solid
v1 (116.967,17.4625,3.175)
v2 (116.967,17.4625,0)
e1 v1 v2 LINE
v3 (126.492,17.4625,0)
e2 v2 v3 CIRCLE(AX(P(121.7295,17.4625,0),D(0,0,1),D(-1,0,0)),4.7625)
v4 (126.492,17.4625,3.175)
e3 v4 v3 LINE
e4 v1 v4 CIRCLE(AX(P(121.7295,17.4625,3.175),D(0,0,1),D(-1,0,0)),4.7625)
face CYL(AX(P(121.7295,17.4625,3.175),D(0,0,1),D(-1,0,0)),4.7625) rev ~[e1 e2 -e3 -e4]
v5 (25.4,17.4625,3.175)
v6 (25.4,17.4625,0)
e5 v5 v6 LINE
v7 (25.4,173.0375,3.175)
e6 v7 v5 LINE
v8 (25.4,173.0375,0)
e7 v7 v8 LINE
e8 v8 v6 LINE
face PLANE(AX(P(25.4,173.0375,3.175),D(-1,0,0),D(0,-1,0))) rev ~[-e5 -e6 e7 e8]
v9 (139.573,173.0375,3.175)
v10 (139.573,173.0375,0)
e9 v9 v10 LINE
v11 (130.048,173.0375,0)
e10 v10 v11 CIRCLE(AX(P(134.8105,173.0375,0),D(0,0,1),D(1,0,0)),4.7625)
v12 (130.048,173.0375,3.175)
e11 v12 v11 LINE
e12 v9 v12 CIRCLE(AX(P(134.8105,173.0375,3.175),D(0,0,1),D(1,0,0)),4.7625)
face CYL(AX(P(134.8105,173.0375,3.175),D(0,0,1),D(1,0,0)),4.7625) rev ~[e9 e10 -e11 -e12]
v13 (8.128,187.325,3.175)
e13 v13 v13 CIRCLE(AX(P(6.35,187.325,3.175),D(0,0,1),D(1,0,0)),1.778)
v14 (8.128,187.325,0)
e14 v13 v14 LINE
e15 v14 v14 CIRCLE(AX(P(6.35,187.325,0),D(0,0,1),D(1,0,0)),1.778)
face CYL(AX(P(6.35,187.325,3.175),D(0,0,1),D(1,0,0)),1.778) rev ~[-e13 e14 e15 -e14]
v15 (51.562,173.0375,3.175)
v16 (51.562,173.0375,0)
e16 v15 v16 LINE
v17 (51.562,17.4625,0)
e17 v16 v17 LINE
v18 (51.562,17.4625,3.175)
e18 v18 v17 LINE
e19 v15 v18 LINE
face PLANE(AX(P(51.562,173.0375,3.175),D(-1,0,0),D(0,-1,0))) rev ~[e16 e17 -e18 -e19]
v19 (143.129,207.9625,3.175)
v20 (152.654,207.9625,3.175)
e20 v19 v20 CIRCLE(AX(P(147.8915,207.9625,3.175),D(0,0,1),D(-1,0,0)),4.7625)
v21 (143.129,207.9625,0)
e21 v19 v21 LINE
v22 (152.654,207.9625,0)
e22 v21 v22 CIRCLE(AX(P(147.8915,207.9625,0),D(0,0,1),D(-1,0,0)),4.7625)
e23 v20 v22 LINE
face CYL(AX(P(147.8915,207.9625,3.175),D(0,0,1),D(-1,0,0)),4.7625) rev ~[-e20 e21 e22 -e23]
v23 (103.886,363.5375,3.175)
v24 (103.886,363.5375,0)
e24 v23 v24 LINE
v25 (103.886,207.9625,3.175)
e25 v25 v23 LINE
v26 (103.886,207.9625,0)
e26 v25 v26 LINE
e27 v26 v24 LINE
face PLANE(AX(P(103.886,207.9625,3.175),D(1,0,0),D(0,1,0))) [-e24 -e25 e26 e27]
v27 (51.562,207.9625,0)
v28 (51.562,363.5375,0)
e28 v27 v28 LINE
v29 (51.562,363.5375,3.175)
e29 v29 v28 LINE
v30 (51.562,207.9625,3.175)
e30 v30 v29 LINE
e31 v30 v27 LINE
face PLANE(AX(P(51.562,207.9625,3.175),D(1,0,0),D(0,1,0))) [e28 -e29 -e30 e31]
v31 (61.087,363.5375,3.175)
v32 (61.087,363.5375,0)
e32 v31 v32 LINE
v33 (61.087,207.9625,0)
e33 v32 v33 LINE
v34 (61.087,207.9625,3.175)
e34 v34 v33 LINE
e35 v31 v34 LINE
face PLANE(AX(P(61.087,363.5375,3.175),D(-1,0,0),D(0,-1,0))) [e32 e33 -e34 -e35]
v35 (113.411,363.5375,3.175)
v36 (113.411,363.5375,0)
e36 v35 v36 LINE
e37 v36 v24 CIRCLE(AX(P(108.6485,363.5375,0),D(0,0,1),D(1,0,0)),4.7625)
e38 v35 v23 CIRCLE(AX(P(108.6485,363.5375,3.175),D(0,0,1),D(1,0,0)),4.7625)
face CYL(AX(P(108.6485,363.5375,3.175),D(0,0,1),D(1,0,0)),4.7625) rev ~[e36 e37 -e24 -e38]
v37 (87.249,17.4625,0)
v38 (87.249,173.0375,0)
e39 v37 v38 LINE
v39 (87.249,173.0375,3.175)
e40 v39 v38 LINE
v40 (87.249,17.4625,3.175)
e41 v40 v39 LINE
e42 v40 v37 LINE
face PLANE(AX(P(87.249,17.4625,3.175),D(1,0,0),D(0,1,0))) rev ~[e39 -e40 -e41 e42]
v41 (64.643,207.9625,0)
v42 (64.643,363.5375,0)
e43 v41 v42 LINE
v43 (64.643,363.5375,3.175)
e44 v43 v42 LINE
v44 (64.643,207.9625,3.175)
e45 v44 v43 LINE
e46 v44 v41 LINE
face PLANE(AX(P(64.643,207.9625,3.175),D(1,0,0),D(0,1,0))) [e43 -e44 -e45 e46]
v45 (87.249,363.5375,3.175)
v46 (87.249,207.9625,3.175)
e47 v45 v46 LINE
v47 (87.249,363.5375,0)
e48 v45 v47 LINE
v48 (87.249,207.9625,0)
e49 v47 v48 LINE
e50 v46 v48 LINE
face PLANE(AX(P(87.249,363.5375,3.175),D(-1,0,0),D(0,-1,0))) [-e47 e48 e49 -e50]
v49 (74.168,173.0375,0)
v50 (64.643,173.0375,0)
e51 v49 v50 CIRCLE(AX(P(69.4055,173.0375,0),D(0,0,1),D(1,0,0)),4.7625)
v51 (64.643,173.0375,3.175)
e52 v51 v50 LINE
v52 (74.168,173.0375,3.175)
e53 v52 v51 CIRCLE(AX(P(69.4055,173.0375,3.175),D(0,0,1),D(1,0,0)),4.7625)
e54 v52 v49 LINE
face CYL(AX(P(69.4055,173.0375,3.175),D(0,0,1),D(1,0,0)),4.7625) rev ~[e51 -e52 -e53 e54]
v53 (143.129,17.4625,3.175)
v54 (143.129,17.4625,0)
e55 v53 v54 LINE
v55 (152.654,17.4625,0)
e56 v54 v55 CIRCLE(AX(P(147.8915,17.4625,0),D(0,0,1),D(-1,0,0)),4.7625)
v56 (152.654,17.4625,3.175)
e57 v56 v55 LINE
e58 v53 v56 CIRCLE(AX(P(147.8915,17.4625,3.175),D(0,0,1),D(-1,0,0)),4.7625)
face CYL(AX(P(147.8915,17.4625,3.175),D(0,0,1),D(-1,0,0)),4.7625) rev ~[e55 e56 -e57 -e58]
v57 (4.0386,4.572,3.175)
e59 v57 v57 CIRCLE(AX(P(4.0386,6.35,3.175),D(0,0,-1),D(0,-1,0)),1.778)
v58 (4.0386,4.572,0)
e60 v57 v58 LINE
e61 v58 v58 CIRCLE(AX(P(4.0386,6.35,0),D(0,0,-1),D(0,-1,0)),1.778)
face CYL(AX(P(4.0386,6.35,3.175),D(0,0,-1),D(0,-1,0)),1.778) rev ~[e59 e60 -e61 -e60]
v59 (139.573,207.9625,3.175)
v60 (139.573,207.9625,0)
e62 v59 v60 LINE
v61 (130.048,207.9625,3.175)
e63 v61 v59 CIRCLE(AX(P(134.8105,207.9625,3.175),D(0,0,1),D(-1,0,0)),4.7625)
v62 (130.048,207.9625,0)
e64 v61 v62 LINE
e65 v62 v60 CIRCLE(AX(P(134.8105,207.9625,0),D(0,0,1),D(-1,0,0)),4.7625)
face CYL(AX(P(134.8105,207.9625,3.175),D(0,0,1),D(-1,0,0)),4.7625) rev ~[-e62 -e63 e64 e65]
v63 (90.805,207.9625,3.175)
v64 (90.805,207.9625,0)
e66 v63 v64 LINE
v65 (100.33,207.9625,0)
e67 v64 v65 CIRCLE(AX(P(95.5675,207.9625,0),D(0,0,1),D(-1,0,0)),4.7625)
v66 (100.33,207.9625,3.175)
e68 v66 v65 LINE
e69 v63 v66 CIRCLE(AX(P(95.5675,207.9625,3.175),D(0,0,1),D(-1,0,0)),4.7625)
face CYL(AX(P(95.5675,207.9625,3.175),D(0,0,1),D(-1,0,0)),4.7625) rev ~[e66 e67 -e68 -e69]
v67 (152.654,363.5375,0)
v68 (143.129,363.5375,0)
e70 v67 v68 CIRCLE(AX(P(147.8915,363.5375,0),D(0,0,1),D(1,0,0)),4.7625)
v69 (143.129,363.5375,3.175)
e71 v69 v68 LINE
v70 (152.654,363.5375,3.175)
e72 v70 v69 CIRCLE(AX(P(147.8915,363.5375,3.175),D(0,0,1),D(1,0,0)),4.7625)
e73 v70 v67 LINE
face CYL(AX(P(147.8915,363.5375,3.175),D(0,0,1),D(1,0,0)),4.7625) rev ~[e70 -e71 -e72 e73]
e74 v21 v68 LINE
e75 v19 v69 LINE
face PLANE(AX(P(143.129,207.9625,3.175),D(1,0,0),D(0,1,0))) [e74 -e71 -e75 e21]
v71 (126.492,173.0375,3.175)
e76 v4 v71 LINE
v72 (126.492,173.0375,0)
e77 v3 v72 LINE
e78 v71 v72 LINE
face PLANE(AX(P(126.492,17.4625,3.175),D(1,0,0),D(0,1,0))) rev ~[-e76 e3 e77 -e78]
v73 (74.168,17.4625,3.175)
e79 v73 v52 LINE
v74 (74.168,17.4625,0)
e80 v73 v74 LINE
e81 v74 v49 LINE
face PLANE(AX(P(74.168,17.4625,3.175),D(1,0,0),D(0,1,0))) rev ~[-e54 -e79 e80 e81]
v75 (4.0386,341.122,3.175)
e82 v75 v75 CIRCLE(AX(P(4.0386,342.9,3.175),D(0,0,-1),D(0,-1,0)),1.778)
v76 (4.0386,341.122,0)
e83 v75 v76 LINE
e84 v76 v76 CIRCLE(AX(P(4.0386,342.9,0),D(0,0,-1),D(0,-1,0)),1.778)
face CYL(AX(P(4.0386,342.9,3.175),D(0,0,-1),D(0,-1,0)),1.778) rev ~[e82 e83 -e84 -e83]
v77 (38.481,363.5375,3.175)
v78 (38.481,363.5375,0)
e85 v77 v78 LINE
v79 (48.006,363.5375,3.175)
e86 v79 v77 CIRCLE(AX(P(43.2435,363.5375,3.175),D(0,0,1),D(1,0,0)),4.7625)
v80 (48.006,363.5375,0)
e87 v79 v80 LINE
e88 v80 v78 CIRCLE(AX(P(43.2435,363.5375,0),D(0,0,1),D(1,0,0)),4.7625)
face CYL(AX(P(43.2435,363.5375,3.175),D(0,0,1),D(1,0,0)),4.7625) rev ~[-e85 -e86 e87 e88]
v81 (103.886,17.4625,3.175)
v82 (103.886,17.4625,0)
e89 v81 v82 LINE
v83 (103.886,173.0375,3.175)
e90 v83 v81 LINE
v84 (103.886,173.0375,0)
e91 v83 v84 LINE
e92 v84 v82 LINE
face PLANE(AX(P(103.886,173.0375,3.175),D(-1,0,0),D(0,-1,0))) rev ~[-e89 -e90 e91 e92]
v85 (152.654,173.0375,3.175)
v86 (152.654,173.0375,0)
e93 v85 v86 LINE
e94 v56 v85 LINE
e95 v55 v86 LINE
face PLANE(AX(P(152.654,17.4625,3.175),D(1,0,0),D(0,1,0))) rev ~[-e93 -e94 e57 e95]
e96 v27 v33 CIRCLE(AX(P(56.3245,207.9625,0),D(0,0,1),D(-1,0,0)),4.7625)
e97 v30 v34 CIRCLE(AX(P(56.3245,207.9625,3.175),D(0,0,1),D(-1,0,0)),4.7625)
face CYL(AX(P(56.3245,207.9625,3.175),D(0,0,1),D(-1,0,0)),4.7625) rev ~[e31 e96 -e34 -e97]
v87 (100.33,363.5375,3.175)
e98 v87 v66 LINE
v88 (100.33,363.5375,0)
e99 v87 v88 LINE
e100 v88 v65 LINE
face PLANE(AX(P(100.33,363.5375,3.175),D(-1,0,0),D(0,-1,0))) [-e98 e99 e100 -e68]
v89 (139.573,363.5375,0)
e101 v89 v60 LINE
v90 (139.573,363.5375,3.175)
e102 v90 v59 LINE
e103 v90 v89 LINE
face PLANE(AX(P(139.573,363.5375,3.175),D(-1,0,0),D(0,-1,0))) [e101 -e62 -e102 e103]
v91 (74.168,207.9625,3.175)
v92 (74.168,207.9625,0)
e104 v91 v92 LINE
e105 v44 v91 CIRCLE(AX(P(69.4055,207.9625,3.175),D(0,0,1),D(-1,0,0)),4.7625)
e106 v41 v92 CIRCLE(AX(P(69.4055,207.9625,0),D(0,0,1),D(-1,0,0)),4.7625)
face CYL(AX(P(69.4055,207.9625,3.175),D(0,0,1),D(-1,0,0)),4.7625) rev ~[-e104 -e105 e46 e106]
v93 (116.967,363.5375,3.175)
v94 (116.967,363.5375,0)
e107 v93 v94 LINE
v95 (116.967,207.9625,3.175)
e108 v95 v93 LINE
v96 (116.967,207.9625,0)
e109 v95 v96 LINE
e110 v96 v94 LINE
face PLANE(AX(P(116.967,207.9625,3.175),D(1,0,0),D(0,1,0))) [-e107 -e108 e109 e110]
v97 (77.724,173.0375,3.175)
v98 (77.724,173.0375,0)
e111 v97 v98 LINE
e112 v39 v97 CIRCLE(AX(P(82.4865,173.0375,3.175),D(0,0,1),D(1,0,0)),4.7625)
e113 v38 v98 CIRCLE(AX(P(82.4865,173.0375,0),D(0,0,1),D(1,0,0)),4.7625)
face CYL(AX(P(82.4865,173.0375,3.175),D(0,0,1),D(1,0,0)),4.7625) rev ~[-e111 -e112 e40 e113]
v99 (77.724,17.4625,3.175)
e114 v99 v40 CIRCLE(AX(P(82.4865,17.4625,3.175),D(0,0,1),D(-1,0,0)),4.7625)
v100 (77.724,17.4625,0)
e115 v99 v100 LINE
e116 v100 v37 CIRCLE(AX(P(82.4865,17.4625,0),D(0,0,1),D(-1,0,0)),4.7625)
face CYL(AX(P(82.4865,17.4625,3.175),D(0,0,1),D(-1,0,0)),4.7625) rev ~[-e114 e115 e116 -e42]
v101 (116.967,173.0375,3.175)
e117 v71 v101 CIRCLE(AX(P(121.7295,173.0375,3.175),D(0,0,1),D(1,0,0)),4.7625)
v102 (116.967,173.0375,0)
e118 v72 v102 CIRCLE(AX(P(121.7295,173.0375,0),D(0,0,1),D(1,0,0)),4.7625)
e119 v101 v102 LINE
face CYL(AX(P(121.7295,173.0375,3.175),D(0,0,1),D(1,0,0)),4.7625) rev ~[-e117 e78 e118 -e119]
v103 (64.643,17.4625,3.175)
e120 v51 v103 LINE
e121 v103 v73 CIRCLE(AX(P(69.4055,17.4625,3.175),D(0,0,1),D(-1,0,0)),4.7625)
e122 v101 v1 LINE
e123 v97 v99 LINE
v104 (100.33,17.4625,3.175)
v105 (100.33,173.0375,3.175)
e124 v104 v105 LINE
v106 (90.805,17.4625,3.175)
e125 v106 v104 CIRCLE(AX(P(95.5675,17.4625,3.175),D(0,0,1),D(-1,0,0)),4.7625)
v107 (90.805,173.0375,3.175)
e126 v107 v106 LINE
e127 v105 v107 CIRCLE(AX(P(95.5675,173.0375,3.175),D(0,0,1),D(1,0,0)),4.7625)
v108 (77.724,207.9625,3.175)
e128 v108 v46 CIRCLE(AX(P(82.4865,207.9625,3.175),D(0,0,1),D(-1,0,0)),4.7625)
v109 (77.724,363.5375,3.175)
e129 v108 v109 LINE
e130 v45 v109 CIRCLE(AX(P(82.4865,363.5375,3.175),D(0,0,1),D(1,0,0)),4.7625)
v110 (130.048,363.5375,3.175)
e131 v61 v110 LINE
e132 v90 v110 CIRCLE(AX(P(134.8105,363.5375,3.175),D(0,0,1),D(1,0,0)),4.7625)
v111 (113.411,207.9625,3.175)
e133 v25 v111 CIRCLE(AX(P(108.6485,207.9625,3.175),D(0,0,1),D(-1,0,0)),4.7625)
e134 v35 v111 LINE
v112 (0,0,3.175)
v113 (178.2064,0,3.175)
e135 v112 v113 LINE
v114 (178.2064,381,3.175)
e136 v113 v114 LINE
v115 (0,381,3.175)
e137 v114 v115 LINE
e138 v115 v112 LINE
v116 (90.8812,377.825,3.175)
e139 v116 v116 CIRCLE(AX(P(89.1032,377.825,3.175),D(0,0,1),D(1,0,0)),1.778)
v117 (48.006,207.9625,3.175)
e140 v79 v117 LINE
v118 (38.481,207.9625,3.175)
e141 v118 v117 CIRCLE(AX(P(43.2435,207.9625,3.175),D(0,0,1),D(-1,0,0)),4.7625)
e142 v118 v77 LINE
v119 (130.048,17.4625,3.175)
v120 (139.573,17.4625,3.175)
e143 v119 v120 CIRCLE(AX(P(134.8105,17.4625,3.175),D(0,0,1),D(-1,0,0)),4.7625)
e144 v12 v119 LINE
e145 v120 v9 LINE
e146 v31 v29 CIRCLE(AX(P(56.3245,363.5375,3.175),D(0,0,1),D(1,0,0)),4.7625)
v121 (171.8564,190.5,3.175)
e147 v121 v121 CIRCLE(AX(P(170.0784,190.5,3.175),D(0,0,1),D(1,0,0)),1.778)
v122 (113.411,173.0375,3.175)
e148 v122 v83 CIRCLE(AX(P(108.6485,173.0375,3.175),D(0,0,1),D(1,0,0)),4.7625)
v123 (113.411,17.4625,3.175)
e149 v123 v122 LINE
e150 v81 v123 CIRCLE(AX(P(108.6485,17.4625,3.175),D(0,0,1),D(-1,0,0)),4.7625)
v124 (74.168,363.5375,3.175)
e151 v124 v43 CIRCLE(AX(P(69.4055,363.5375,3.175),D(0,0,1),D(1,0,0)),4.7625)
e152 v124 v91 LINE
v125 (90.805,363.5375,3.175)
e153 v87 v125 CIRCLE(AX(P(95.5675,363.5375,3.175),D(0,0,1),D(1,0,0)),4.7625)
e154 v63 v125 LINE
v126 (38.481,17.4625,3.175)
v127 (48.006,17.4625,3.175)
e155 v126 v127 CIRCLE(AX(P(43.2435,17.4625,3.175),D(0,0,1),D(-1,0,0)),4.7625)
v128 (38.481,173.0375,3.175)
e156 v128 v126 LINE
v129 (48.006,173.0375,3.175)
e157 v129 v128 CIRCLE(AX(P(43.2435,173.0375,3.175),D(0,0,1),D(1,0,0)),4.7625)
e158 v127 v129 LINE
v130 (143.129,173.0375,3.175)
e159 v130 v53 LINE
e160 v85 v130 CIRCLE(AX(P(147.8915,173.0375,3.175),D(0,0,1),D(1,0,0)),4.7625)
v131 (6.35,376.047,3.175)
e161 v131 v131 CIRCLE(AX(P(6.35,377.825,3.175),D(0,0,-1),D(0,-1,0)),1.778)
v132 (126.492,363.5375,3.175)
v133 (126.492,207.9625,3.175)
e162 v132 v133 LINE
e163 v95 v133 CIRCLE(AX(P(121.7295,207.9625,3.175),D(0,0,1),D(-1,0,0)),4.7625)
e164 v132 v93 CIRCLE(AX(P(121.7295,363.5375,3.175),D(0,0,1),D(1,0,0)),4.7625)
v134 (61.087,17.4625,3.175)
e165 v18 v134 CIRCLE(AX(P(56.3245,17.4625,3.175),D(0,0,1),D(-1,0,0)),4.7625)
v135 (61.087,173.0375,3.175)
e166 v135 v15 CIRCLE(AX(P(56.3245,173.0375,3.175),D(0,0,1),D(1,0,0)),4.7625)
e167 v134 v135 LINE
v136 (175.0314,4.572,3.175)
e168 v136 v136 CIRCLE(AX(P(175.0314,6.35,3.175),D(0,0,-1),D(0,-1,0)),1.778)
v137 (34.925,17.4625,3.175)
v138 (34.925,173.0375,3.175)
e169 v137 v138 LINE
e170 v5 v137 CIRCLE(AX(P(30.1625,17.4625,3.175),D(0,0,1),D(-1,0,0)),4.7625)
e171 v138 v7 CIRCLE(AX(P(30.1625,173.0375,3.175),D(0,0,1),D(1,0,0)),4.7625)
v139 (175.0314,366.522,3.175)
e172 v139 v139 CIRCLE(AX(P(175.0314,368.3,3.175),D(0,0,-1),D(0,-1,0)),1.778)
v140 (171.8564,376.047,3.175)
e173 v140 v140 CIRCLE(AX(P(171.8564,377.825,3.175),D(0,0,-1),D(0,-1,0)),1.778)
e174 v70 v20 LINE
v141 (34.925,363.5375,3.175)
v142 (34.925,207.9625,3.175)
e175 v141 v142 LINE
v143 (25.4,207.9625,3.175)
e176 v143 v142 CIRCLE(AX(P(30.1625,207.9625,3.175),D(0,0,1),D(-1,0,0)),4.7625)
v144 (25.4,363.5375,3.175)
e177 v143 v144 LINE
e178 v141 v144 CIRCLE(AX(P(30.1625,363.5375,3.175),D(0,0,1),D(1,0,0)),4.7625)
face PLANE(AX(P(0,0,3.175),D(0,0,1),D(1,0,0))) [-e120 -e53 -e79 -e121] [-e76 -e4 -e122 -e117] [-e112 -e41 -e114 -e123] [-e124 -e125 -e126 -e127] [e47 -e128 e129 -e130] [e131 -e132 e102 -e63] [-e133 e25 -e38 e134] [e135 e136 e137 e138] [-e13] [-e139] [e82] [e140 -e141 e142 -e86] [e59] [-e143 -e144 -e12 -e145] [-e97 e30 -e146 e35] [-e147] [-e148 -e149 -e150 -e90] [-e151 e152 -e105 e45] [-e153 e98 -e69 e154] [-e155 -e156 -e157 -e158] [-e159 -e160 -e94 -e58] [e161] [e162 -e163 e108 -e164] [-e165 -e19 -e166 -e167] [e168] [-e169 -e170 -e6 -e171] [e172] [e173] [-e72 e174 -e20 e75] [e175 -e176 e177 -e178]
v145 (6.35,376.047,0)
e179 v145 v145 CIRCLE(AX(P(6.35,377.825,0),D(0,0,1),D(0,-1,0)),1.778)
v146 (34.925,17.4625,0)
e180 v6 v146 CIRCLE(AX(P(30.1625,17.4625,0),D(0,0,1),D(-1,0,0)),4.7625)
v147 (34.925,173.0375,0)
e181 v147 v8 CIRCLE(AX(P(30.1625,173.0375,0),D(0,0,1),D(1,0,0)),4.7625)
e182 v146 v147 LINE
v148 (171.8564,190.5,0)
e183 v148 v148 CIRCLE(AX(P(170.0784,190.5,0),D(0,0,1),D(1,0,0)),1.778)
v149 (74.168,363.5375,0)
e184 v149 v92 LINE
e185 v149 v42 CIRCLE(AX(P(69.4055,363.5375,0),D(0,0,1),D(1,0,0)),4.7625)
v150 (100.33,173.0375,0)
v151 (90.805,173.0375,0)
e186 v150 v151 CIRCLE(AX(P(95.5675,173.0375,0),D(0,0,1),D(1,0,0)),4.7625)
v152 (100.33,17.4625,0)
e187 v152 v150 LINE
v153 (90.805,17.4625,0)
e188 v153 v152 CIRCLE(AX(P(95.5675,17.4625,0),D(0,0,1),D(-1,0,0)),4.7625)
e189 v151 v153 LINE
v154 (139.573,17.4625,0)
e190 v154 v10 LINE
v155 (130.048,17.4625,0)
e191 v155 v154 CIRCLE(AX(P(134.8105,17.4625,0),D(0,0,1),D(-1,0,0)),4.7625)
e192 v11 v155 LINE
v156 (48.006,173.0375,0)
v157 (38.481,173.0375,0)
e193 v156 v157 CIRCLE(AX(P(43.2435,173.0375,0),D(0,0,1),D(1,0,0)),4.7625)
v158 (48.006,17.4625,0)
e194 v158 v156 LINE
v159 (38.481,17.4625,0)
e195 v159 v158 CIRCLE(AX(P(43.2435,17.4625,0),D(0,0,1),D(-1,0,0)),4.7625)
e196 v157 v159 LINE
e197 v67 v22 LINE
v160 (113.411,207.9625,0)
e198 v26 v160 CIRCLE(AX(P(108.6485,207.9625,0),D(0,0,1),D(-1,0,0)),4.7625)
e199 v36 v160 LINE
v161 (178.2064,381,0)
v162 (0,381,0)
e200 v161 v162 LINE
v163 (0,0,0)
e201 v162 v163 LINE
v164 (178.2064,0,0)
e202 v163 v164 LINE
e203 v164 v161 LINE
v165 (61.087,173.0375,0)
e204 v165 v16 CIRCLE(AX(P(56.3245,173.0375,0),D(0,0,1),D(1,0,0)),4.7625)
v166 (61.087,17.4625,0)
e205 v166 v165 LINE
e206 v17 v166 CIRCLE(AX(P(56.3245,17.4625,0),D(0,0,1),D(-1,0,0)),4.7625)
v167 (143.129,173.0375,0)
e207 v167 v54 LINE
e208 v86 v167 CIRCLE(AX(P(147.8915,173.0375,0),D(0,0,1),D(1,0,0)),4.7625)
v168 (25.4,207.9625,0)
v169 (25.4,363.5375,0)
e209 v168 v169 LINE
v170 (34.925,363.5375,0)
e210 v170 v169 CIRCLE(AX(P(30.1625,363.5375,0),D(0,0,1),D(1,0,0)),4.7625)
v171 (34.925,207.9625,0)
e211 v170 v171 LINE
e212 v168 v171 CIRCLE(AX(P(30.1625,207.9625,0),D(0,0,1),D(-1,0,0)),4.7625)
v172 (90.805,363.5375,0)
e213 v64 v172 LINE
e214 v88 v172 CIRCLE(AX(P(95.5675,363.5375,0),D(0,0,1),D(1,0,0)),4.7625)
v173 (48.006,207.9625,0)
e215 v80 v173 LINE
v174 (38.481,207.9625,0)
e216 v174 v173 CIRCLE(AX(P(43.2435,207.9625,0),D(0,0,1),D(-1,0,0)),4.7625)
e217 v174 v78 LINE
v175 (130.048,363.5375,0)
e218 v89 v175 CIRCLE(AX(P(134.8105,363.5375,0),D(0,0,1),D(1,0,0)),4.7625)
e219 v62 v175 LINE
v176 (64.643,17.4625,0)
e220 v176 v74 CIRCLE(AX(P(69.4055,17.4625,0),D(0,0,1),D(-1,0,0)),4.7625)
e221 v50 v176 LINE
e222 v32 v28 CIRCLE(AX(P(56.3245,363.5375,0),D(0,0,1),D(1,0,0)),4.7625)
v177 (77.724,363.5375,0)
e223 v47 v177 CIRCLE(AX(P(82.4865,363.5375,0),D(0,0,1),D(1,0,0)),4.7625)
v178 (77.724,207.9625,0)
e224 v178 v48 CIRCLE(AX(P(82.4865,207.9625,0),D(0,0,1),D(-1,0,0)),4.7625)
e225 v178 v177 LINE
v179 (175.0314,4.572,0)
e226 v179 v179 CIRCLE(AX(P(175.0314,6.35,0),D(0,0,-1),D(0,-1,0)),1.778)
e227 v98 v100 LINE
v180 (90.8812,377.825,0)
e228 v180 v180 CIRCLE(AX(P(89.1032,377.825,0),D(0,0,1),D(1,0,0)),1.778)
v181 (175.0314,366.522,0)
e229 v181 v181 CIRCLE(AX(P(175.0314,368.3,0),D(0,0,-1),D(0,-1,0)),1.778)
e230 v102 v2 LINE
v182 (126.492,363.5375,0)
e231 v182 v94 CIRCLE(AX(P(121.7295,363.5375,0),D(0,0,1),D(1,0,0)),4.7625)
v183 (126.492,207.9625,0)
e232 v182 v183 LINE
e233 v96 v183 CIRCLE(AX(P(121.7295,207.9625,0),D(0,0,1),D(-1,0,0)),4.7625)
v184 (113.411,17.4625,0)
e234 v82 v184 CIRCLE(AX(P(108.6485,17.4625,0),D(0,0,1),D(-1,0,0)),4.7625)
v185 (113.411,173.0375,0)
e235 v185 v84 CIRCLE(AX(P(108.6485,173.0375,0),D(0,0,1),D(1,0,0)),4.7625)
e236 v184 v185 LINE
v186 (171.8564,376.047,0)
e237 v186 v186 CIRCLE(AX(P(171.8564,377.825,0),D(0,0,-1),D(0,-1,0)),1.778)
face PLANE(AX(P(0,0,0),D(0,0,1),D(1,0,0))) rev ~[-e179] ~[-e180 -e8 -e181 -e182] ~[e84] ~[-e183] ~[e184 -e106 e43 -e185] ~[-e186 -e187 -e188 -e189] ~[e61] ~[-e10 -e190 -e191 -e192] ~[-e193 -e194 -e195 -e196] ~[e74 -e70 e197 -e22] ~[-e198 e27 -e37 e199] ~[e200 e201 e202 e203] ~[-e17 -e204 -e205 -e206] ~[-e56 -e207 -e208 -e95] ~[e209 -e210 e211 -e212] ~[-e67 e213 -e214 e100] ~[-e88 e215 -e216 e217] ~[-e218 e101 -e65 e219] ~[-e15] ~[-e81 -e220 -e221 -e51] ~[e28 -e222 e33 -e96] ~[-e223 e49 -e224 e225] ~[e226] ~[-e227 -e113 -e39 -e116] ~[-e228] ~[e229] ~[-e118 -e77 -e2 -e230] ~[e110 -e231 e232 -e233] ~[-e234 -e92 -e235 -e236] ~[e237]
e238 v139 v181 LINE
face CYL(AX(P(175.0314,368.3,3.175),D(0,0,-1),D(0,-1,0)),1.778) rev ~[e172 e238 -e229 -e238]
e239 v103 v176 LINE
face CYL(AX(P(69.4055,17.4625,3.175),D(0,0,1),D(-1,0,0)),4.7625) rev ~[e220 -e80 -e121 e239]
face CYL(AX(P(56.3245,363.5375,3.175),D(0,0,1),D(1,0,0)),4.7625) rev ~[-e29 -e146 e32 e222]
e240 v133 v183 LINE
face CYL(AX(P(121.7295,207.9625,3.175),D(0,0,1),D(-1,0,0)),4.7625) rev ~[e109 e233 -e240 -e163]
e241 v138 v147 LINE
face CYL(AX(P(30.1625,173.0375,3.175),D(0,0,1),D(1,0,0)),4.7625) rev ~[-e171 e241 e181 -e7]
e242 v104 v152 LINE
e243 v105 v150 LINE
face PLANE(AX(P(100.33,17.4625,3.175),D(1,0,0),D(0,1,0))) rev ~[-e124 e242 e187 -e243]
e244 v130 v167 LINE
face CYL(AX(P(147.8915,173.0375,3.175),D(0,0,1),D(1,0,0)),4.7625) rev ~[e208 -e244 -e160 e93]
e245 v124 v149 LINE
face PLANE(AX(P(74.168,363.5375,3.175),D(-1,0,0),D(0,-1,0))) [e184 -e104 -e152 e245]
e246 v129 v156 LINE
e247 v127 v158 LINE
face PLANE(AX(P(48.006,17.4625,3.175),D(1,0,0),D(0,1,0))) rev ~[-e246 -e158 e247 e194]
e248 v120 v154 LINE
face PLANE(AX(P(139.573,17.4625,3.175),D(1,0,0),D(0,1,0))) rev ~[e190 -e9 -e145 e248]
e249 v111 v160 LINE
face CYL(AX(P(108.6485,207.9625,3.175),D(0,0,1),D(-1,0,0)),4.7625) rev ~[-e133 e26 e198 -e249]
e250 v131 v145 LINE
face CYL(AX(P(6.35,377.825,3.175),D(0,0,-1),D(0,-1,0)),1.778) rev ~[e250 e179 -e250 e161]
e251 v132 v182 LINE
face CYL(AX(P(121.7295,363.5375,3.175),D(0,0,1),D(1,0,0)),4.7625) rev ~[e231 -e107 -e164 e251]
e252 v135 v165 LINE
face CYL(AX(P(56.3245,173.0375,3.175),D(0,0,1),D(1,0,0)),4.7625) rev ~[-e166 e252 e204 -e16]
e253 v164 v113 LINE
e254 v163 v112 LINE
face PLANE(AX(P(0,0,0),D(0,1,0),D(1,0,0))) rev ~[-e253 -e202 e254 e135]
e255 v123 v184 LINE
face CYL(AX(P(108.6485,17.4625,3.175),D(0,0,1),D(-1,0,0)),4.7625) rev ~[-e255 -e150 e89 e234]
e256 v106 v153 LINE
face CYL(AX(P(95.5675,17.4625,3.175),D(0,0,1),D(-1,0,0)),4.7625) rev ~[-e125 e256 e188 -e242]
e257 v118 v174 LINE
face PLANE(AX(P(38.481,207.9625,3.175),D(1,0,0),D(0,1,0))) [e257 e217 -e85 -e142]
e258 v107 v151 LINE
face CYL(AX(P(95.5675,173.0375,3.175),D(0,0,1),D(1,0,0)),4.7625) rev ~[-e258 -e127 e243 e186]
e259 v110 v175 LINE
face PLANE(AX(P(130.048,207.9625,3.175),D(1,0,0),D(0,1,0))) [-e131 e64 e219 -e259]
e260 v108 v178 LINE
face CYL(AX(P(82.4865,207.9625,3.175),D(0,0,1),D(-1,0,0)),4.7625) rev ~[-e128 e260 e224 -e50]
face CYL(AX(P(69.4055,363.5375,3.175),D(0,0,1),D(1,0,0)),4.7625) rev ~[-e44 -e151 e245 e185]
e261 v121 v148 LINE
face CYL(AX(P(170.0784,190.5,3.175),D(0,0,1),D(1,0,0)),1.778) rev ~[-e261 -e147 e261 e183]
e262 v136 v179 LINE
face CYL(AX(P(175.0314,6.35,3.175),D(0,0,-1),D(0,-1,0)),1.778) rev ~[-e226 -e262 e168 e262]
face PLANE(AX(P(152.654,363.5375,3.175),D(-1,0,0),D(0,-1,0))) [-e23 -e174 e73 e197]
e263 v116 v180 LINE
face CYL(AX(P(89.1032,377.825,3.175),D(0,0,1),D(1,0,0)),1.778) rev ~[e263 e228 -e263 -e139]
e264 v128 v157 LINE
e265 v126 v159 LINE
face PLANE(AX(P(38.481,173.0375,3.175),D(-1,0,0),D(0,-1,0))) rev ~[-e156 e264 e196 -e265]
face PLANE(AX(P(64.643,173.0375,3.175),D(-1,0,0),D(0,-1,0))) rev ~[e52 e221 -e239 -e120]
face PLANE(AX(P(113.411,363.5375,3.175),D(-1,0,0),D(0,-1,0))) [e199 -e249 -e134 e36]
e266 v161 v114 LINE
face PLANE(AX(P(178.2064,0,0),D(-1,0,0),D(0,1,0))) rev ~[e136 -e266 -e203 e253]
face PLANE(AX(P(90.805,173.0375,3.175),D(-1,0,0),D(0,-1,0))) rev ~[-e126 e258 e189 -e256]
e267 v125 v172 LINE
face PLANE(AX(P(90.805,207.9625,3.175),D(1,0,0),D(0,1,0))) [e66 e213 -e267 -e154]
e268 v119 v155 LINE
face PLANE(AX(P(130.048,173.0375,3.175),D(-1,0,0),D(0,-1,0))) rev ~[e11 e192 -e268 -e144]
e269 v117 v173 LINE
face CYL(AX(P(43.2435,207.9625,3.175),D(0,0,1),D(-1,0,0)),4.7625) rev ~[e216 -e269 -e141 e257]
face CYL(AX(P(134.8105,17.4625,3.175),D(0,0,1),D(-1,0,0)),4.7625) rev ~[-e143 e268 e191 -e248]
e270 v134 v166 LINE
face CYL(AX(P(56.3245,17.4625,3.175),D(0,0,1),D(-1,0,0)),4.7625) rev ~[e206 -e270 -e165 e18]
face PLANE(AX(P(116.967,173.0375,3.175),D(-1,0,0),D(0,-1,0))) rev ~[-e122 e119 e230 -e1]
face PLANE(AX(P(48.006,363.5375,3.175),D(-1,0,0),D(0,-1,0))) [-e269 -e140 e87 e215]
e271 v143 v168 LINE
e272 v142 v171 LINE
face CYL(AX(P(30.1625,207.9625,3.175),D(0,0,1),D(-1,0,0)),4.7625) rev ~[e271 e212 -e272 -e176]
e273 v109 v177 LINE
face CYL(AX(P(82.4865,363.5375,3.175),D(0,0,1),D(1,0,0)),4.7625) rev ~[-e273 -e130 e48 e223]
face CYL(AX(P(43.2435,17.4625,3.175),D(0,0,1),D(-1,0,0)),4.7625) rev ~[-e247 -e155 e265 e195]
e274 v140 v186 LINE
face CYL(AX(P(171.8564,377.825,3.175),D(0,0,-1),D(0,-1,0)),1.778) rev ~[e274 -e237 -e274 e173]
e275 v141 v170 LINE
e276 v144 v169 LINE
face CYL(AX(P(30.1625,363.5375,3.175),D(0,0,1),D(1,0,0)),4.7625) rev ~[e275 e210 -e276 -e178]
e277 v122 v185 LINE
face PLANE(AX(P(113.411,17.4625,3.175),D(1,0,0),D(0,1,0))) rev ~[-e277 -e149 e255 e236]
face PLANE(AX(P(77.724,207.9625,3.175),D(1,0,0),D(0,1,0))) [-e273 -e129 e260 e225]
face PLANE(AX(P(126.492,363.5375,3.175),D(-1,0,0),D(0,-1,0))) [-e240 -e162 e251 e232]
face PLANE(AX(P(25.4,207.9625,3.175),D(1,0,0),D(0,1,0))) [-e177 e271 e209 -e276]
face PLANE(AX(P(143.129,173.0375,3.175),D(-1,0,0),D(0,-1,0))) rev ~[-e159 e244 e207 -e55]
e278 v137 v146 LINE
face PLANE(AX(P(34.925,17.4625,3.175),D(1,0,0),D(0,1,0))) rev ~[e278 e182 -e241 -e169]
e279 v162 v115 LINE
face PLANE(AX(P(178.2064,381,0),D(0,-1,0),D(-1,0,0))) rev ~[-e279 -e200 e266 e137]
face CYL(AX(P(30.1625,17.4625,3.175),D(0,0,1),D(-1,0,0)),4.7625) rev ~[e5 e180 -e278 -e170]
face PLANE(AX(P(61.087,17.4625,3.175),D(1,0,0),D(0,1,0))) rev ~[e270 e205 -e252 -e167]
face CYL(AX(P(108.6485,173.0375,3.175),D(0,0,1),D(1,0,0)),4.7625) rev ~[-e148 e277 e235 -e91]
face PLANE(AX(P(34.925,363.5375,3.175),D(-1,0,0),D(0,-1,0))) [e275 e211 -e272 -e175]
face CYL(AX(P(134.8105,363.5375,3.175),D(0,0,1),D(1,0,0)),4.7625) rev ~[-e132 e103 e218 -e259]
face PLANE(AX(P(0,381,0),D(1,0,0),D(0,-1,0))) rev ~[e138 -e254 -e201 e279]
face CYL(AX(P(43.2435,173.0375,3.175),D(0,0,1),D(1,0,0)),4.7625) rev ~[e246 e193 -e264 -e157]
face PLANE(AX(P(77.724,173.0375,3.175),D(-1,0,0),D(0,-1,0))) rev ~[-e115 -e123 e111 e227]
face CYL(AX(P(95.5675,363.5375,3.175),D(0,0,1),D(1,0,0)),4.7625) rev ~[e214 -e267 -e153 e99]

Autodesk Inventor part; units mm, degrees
ref_plane "YZ Plane" through (0, 0, 0) normal (1, 0, 0) x (0, 1, 0)
ref_plane "XZ Plane" through (0, 0, 0) normal (0, 1, 0) x (-1, 0, 0)
ref_plane "XY Plane" through (0, 0, 0) normal (0, 0, 1) x (1, 0, 0)
sketch "Sketch1" plane through (0, 0, 0) normal (0, 0, 1) x (1, 0, 0)
  line L0 (0, 0) -> (178.2064, 0)
  line L1 (178.2064, 0) -> (178.2064, 381)
  line L2 (178.2064, 381) -> (0, 381)
  line L3 (0, 381) -> (0, 0)
  dimension "d0" = 178.2064
  dimension "d1" = 381
extrude "Extrusion1" add sketch "Sketch1" along normal blind 3.175
sketch "Sketch2" plane through (0, 0, 3.175) normal (0, 0, 1) x (1, 0, 0)
  line L0 (0, 0) -> (178.2064, 0) projected
  line L1 (0, 0) -> (4.0386, 0)
  line L2 (4.0386, 0) -> (4.0386, 6.35)
  line L3 (0, 381) -> (0, 0) projected
  line L4 (0, 381) -> (4.0386, 381)
  line L5 (178.2064, 381) -> (0, 381) projected
  line L6 (4.0386, 381) -> (4.0386, 342.9)
  line L7 (4.0386, 381) -> (42.1386, 381) construction
  line L8 (0, 381) -> (0, 377.825)
  line L9 (0, 377.825) -> (6.35, 377.825)
  line L10 (178.2064, 0) -> (178.2064, 381) projected
  line L11 (178.2064, 0) -> (175.0314, 0)
  line L12 (175.0314, 0) -> (175.0314, 6.35)
  line L13 (178.2064, 377.825) -> (171.8564, 377.825)
  point P0 (175.0314, 368.3)
  dimension "d4" = 4.0386
  dimension "d5" = 6.35
  dimension "d6" = 38.1
  dimension "d7" = 90
  dimension "d8" = 3.175
  dimension "d9" = 6.35
  dimension "d10" = 3.175
  dimension "d11" = 6.35
  dimension "d19" = 4.0386
  dimension "d21" = 3.175
  dimension "d22" = 12.7
  dimension "d23" = 3.175
hole "Hole1" at (4.0386, 6.35, 3.175) at (4.0386, 342.9, 3.175) at (6.35, 377.825, 3.175) at (175.0314, 6.35, 3.175) at (175.0314, 368.3, 3.175) at (171.8564, 377.825, 3.175) direction (0, 0, -1) diameter 3.556 depth 25.4 tip angle 118
sketch "Sketch3" plane through (0, 0, 3.175) normal (0, 0, 1) x (1, 0, 0)
  line L0 (30.1625, 12.7) -> (30.1625, 177.8) construction
  line L1 (34.925, 17.4625) -> (34.925, 173.0375)
  line L2 (25.4, 173.0375) -> (25.4, 17.4625)
  arc A0 (25.4, 17.4625) -> (34.925, 17.4625) centre (30.1625, 17.4625) ccw
  arc A1 (34.925, 173.0375) -> (25.4, 173.0375) centre (30.1625, 173.0375) ccw
  line L3 (0, 381) -> (0, 0) projected
  line L4 (178.2064, 0) -> (178.2064, 381) projected
  line L5 (0, 0) -> (178.2064, 0) projected
  line L6 (43.2435, 12.7) -> (43.2435, 177.8) construction
  line L7 (48.006, 17.4625) -> (48.006, 173.0375)
  line L8 (38.481, 173.0375) -> (38.481, 17.4625)
  arc A2 (38.481, 17.4625) -> (48.006, 17.4625) centre (43.2435, 17.4625) ccw
  arc A3 (48.006, 173.0375) -> (38.481, 173.0375) centre (43.2435, 173.0375) ccw
  line L9 (56.3245, 12.7) -> (56.3245, 177.8) construction
  line L10 (61.087, 17.4625) -> (61.087, 173.0375)
  line L11 (51.562, 173.0375) -> (51.562, 17.4625)
  arc A4 (51.562, 17.4625) -> (61.087, 17.4625) centre (56.3245, 17.4625) ccw
  arc A5 (61.087, 173.0375) -> (51.562, 173.0375) centre (56.3245, 173.0375) ccw
  line L12 (69.4055, 12.7) -> (69.4055, 177.8) construction
  line L13 (74.168, 17.4625) -> (74.168, 173.0375)
  line L14 (64.643, 173.0375) -> (64.643, 17.4625)
  arc A6 (64.643, 17.4625) -> (74.168, 17.4625) centre (69.4055, 17.4625) ccw
  arc A7 (74.168, 173.0375) -> (64.643, 173.0375) centre (69.4055, 173.0375) ccw
  line L15 (82.4865, 12.7) -> (82.4865, 177.8) construction
  line L16 (87.249, 17.4625) -> (87.249, 173.0375)
  line L17 (77.724, 173.0375) -> (77.724, 17.4625)
  arc A8 (77.724, 17.4625) -> (87.249, 17.4625) centre (82.4865, 17.4625) ccw
  arc A9 (87.249, 173.0375) -> (77.724, 173.0375) centre (82.4865, 173.0375) ccw
  line L18 (95.5675, 12.7) -> (95.5675, 177.8) construction
  line L19 (100.33, 17.4625) -> (100.33, 173.0375)
  line L20 (90.805, 173.0375) -> (90.805, 17.4625)
  arc A10 (90.805, 17.4625) -> (100.33, 17.4625) centre (95.5675, 17.4625) ccw
  arc A11 (100.33, 173.0375) -> (90.805, 173.0375) centre (95.5675, 173.0375) ccw
  line L21 (108.6485, 12.7) -> (108.6485, 177.8) construction
  line L22 (113.411, 17.4625) -> (113.411, 173.0375)
  line L23 (103.886, 173.0375) -> (103.886, 17.4625)
  arc A12 (103.886, 17.4625) -> (113.411, 17.4625) centre (108.6485, 17.4625) ccw
  arc A13 (113.411, 173.0375) -> (103.886, 173.0375) centre (108.6485, 173.0375) ccw
  line L24 (121.7295, 12.7) -> (121.7295, 177.8) construction
  line L25 (126.492, 17.4625) -> (126.492, 173.0375)
  line L26 (116.967, 173.0375) -> (116.967, 17.4625)
  arc A14 (116.967, 17.4625) -> (126.492, 17.4625) centre (121.7295, 17.4625) ccw
  arc A15 (126.492, 173.0375) -> (116.967, 173.0375) centre (121.7295, 173.0375) ccw
  line L27 (160.7328, 14.2764) -> (160.7328, 166.6986) construction
  line L28 (134.8105, 12.7) -> (134.8105, 177.8) construction
  line L29 (139.573, 17.4625) -> (139.573, 173.0375)
  line L30 (130.048, 173.0375) -> (130.048, 17.4625)
  arc A16 (130.048, 17.4625) -> (139.573, 17.4625) centre (134.8105, 17.4625) ccw
  arc A17 (139.573, 173.0375) -> (130.048, 173.0375) centre (134.8105, 173.0375) ccw
  line L31 (178.2064, 0) -> (178.2064, 381) projected
  line L32 (30.1625, 368.3) -> (30.1625, 203.2) construction
  line L33 (34.925, 363.5375) -> (34.925, 207.9625)
  line L34 (25.4, 207.9625) -> (25.4, 363.5375)
  arc A18 (34.925, 363.5375) -> (25.4, 363.5375) centre (30.1625, 363.5375) ccw
  arc A19 (25.4, 207.9625) -> (34.925, 207.9625) centre (30.1625, 207.9625) ccw
  arc A20 (38.481, 207.9625) -> (48.006, 207.9625) centre (43.2435, 207.9625) ccw
  line L35 (48.006, 363.5375) -> (48.006, 207.9625)
  line L36 (38.481, 207.9625) -> (38.481, 363.5375)
  line L37 (43.2435, 368.3) -> (43.2435, 203.2) construction
  arc A21 (48.006, 363.5375) -> (38.481, 363.5375) centre (43.2435, 363.5375) ccw
  arc A22 (51.562, 207.9625) -> (61.087, 207.9625) centre (56.3245, 207.9625) ccw
  line L38 (61.087, 363.5375) -> (61.087, 207.9625)
  line L39 (51.562, 207.9625) -> (51.562, 363.5375)
  line L40 (56.3245, 368.3) -> (56.3245, 203.2) construction
  arc A23 (61.087, 363.5375) -> (51.562, 363.5375) centre (56.3245, 363.5375) ccw
  arc A24 (64.643, 207.9625) -> (74.168, 207.9625) centre (69.4055, 207.9625) ccw
  line L41 (74.168, 363.5375) -> (74.168, 207.9625)
  line L42 (64.643, 207.9625) -> (64.643, 363.5375)
  line L43 (69.4055, 368.3) -> (69.4055, 203.2) construction
  arc A25 (74.168, 363.5375) -> (64.643, 363.5375) centre (69.4055, 363.5375) ccw
  arc A26 (77.724, 207.9625) -> (87.249, 207.9625) centre (82.4865, 207.9625) ccw
  line L44 (87.249, 363.5375) -> (87.249, 207.9625)
  line L45 (77.724, 207.9625) -> (77.724, 363.5375)
  line L46 (82.4865, 368.3) -> (82.4865, 203.2) construction
  arc A27 (87.249, 363.5375) -> (77.724, 363.5375) centre (82.4865, 363.5375) ccw
  arc A28 (90.805, 207.9625) -> (100.33, 207.9625) centre (95.5675, 207.9625) ccw
  line L47 (100.33, 363.5375) -> (100.33, 207.9625)
  line L48 (90.805, 207.9625) -> (90.805, 363.5375)
  line L49 (95.5675, 368.3) -> (95.5675, 203.2) construction
  arc A29 (100.33, 363.5375) -> (90.805, 363.5375) centre (95.5675, 363.5375) ccw
  arc A30 (103.886, 207.9625) -> (113.411, 207.9625) centre (108.6485, 207.9625) ccw
  line L50 (113.411, 363.5375) -> (113.411, 207.9625)
  line L51 (103.886, 207.9625) -> (103.886, 363.5375)
  line L52 (108.6485, 368.3) -> (108.6485, 203.2) construction
  arc A31 (113.411, 363.5375) -> (103.886, 363.5375) centre (108.6485, 363.5375) ccw
  arc A32 (116.967, 207.9625) -> (126.492, 207.9625) centre (121.7295, 207.9625) ccw
  line L53 (126.492, 363.5375) -> (126.492, 207.9625)
  line L54 (116.967, 207.9625) -> (116.967, 363.5375)
  line L55 (121.7295, 368.3) -> (121.7295, 203.2) construction
  arc A33 (126.492, 363.5375) -> (116.967, 363.5375) centre (121.7295, 363.5375) ccw
  arc A34 (130.048, 207.9625) -> (139.573, 207.9625) centre (134.8105, 207.9625) ccw
  line L56 (139.573, 363.5375) -> (139.573, 207.9625)
  line L57 (130.048, 207.9625) -> (130.048, 363.5375)
  line L58 (134.8105, 368.3) -> (134.8105, 203.2) construction
  arc A35 (139.573, 363.5375) -> (130.048, 363.5375) centre (134.8105, 363.5375) ccw
  line L59 (147.8915, 12.7) -> (147.8915, 177.8) construction
  line L60 (152.654, 17.4625) -> (152.654, 173.0375)
  line L61 (143.129, 173.0375) -> (143.129, 17.4625)
  arc A36 (143.129, 17.4625) -> (152.654, 17.4625) centre (147.8915, 17.4625) ccw
  arc A37 (152.654, 173.0375) -> (143.129, 173.0375) centre (147.8915, 173.0375) ccw
  arc A38 (143.129, 207.9625) -> (152.654, 207.9625) centre (147.8915, 207.9625) ccw
  line L62 (152.654, 363.5375) -> (152.654, 207.9625)
  line L63 (143.129, 207.9625) -> (143.129, 363.5375)
  line L64 (147.8915, 368.3) -> (147.8915, 203.2) construction
  arc A39 (152.654, 363.5375) -> (143.129, 363.5375) centre (147.8915, 363.5375) ccw
  point P0 (30.1625, 95.25)
  point P1 (43.2435, 95.25)
  point P2 (56.3245, 95.25)
  point P3 (69.4055, 95.25)
  point P4 (82.4865, 95.25)
  point P5 (95.5675, 95.25)
  point P6 (108.6485, 95.25)
  point P7 (121.7295, 95.25)
  point P8 (144.4212, 90.4875)
  point P9 (134.8105, 95.25)
  point P10 (36.7792, 292.1)
  point P11 (49.8602, 292.1)
  point P12 (62.9412, 292.1)
  point P13 (76.0222, 292.1)
  point P14 (89.1032, 292.1)
  point P15 (102.1842, 292.1)
  point P16 (115.2652, 292.1)
  point P17 (128.3462, 292.1)
  point P18 (141.4272, 292.1)
  point P19 (147.8915, 95.25)
  point P20 (154.5082, 292.1)
  dimension "d24" = 9.525
  dimension "d34" = 12.7
  dimension "d39" = 381
  dimension "d41" = 165.1
  dimension "d46" = 13.081
  dimension "d55" = 13.081
  dimension "d63" = 165.1
  dimension "d64" = 25.4
  dimension "d65" = 25.4
extrude "Extrusion2" cut sketch "Sketch3" against normal through all
sketch "Sketch4" plane through (0, 0, 3.175) normal (0, 0, 1) x (1, 0, 0)
  circle A0 centre (6.35, 377.825) radius 1.778 projected
  circle A1 centre (6.35, 187.325) radius 1.778
  circle A2 centre (89.1032, 377.825) radius 1.778
  line L0 (0, 0) -> (178.2064, 0) projected
  line L1 (0, 381) -> (0, 0) projected
  circle A3 centre (170.0784, 190.5) radius 1.778
  dimension "d66" = 3.556
  dimension "d68" = 3.556
  dimension "d72" = 187.325
  dimension "d74" = 82.7532
  dimension "d75" = 3.556
extrude "Extrusion3" cut sketch "Sketch4" against normal blind 3.556
equation "\"d69\" = d75"
properties part number "GlyphPlateUnderside"
